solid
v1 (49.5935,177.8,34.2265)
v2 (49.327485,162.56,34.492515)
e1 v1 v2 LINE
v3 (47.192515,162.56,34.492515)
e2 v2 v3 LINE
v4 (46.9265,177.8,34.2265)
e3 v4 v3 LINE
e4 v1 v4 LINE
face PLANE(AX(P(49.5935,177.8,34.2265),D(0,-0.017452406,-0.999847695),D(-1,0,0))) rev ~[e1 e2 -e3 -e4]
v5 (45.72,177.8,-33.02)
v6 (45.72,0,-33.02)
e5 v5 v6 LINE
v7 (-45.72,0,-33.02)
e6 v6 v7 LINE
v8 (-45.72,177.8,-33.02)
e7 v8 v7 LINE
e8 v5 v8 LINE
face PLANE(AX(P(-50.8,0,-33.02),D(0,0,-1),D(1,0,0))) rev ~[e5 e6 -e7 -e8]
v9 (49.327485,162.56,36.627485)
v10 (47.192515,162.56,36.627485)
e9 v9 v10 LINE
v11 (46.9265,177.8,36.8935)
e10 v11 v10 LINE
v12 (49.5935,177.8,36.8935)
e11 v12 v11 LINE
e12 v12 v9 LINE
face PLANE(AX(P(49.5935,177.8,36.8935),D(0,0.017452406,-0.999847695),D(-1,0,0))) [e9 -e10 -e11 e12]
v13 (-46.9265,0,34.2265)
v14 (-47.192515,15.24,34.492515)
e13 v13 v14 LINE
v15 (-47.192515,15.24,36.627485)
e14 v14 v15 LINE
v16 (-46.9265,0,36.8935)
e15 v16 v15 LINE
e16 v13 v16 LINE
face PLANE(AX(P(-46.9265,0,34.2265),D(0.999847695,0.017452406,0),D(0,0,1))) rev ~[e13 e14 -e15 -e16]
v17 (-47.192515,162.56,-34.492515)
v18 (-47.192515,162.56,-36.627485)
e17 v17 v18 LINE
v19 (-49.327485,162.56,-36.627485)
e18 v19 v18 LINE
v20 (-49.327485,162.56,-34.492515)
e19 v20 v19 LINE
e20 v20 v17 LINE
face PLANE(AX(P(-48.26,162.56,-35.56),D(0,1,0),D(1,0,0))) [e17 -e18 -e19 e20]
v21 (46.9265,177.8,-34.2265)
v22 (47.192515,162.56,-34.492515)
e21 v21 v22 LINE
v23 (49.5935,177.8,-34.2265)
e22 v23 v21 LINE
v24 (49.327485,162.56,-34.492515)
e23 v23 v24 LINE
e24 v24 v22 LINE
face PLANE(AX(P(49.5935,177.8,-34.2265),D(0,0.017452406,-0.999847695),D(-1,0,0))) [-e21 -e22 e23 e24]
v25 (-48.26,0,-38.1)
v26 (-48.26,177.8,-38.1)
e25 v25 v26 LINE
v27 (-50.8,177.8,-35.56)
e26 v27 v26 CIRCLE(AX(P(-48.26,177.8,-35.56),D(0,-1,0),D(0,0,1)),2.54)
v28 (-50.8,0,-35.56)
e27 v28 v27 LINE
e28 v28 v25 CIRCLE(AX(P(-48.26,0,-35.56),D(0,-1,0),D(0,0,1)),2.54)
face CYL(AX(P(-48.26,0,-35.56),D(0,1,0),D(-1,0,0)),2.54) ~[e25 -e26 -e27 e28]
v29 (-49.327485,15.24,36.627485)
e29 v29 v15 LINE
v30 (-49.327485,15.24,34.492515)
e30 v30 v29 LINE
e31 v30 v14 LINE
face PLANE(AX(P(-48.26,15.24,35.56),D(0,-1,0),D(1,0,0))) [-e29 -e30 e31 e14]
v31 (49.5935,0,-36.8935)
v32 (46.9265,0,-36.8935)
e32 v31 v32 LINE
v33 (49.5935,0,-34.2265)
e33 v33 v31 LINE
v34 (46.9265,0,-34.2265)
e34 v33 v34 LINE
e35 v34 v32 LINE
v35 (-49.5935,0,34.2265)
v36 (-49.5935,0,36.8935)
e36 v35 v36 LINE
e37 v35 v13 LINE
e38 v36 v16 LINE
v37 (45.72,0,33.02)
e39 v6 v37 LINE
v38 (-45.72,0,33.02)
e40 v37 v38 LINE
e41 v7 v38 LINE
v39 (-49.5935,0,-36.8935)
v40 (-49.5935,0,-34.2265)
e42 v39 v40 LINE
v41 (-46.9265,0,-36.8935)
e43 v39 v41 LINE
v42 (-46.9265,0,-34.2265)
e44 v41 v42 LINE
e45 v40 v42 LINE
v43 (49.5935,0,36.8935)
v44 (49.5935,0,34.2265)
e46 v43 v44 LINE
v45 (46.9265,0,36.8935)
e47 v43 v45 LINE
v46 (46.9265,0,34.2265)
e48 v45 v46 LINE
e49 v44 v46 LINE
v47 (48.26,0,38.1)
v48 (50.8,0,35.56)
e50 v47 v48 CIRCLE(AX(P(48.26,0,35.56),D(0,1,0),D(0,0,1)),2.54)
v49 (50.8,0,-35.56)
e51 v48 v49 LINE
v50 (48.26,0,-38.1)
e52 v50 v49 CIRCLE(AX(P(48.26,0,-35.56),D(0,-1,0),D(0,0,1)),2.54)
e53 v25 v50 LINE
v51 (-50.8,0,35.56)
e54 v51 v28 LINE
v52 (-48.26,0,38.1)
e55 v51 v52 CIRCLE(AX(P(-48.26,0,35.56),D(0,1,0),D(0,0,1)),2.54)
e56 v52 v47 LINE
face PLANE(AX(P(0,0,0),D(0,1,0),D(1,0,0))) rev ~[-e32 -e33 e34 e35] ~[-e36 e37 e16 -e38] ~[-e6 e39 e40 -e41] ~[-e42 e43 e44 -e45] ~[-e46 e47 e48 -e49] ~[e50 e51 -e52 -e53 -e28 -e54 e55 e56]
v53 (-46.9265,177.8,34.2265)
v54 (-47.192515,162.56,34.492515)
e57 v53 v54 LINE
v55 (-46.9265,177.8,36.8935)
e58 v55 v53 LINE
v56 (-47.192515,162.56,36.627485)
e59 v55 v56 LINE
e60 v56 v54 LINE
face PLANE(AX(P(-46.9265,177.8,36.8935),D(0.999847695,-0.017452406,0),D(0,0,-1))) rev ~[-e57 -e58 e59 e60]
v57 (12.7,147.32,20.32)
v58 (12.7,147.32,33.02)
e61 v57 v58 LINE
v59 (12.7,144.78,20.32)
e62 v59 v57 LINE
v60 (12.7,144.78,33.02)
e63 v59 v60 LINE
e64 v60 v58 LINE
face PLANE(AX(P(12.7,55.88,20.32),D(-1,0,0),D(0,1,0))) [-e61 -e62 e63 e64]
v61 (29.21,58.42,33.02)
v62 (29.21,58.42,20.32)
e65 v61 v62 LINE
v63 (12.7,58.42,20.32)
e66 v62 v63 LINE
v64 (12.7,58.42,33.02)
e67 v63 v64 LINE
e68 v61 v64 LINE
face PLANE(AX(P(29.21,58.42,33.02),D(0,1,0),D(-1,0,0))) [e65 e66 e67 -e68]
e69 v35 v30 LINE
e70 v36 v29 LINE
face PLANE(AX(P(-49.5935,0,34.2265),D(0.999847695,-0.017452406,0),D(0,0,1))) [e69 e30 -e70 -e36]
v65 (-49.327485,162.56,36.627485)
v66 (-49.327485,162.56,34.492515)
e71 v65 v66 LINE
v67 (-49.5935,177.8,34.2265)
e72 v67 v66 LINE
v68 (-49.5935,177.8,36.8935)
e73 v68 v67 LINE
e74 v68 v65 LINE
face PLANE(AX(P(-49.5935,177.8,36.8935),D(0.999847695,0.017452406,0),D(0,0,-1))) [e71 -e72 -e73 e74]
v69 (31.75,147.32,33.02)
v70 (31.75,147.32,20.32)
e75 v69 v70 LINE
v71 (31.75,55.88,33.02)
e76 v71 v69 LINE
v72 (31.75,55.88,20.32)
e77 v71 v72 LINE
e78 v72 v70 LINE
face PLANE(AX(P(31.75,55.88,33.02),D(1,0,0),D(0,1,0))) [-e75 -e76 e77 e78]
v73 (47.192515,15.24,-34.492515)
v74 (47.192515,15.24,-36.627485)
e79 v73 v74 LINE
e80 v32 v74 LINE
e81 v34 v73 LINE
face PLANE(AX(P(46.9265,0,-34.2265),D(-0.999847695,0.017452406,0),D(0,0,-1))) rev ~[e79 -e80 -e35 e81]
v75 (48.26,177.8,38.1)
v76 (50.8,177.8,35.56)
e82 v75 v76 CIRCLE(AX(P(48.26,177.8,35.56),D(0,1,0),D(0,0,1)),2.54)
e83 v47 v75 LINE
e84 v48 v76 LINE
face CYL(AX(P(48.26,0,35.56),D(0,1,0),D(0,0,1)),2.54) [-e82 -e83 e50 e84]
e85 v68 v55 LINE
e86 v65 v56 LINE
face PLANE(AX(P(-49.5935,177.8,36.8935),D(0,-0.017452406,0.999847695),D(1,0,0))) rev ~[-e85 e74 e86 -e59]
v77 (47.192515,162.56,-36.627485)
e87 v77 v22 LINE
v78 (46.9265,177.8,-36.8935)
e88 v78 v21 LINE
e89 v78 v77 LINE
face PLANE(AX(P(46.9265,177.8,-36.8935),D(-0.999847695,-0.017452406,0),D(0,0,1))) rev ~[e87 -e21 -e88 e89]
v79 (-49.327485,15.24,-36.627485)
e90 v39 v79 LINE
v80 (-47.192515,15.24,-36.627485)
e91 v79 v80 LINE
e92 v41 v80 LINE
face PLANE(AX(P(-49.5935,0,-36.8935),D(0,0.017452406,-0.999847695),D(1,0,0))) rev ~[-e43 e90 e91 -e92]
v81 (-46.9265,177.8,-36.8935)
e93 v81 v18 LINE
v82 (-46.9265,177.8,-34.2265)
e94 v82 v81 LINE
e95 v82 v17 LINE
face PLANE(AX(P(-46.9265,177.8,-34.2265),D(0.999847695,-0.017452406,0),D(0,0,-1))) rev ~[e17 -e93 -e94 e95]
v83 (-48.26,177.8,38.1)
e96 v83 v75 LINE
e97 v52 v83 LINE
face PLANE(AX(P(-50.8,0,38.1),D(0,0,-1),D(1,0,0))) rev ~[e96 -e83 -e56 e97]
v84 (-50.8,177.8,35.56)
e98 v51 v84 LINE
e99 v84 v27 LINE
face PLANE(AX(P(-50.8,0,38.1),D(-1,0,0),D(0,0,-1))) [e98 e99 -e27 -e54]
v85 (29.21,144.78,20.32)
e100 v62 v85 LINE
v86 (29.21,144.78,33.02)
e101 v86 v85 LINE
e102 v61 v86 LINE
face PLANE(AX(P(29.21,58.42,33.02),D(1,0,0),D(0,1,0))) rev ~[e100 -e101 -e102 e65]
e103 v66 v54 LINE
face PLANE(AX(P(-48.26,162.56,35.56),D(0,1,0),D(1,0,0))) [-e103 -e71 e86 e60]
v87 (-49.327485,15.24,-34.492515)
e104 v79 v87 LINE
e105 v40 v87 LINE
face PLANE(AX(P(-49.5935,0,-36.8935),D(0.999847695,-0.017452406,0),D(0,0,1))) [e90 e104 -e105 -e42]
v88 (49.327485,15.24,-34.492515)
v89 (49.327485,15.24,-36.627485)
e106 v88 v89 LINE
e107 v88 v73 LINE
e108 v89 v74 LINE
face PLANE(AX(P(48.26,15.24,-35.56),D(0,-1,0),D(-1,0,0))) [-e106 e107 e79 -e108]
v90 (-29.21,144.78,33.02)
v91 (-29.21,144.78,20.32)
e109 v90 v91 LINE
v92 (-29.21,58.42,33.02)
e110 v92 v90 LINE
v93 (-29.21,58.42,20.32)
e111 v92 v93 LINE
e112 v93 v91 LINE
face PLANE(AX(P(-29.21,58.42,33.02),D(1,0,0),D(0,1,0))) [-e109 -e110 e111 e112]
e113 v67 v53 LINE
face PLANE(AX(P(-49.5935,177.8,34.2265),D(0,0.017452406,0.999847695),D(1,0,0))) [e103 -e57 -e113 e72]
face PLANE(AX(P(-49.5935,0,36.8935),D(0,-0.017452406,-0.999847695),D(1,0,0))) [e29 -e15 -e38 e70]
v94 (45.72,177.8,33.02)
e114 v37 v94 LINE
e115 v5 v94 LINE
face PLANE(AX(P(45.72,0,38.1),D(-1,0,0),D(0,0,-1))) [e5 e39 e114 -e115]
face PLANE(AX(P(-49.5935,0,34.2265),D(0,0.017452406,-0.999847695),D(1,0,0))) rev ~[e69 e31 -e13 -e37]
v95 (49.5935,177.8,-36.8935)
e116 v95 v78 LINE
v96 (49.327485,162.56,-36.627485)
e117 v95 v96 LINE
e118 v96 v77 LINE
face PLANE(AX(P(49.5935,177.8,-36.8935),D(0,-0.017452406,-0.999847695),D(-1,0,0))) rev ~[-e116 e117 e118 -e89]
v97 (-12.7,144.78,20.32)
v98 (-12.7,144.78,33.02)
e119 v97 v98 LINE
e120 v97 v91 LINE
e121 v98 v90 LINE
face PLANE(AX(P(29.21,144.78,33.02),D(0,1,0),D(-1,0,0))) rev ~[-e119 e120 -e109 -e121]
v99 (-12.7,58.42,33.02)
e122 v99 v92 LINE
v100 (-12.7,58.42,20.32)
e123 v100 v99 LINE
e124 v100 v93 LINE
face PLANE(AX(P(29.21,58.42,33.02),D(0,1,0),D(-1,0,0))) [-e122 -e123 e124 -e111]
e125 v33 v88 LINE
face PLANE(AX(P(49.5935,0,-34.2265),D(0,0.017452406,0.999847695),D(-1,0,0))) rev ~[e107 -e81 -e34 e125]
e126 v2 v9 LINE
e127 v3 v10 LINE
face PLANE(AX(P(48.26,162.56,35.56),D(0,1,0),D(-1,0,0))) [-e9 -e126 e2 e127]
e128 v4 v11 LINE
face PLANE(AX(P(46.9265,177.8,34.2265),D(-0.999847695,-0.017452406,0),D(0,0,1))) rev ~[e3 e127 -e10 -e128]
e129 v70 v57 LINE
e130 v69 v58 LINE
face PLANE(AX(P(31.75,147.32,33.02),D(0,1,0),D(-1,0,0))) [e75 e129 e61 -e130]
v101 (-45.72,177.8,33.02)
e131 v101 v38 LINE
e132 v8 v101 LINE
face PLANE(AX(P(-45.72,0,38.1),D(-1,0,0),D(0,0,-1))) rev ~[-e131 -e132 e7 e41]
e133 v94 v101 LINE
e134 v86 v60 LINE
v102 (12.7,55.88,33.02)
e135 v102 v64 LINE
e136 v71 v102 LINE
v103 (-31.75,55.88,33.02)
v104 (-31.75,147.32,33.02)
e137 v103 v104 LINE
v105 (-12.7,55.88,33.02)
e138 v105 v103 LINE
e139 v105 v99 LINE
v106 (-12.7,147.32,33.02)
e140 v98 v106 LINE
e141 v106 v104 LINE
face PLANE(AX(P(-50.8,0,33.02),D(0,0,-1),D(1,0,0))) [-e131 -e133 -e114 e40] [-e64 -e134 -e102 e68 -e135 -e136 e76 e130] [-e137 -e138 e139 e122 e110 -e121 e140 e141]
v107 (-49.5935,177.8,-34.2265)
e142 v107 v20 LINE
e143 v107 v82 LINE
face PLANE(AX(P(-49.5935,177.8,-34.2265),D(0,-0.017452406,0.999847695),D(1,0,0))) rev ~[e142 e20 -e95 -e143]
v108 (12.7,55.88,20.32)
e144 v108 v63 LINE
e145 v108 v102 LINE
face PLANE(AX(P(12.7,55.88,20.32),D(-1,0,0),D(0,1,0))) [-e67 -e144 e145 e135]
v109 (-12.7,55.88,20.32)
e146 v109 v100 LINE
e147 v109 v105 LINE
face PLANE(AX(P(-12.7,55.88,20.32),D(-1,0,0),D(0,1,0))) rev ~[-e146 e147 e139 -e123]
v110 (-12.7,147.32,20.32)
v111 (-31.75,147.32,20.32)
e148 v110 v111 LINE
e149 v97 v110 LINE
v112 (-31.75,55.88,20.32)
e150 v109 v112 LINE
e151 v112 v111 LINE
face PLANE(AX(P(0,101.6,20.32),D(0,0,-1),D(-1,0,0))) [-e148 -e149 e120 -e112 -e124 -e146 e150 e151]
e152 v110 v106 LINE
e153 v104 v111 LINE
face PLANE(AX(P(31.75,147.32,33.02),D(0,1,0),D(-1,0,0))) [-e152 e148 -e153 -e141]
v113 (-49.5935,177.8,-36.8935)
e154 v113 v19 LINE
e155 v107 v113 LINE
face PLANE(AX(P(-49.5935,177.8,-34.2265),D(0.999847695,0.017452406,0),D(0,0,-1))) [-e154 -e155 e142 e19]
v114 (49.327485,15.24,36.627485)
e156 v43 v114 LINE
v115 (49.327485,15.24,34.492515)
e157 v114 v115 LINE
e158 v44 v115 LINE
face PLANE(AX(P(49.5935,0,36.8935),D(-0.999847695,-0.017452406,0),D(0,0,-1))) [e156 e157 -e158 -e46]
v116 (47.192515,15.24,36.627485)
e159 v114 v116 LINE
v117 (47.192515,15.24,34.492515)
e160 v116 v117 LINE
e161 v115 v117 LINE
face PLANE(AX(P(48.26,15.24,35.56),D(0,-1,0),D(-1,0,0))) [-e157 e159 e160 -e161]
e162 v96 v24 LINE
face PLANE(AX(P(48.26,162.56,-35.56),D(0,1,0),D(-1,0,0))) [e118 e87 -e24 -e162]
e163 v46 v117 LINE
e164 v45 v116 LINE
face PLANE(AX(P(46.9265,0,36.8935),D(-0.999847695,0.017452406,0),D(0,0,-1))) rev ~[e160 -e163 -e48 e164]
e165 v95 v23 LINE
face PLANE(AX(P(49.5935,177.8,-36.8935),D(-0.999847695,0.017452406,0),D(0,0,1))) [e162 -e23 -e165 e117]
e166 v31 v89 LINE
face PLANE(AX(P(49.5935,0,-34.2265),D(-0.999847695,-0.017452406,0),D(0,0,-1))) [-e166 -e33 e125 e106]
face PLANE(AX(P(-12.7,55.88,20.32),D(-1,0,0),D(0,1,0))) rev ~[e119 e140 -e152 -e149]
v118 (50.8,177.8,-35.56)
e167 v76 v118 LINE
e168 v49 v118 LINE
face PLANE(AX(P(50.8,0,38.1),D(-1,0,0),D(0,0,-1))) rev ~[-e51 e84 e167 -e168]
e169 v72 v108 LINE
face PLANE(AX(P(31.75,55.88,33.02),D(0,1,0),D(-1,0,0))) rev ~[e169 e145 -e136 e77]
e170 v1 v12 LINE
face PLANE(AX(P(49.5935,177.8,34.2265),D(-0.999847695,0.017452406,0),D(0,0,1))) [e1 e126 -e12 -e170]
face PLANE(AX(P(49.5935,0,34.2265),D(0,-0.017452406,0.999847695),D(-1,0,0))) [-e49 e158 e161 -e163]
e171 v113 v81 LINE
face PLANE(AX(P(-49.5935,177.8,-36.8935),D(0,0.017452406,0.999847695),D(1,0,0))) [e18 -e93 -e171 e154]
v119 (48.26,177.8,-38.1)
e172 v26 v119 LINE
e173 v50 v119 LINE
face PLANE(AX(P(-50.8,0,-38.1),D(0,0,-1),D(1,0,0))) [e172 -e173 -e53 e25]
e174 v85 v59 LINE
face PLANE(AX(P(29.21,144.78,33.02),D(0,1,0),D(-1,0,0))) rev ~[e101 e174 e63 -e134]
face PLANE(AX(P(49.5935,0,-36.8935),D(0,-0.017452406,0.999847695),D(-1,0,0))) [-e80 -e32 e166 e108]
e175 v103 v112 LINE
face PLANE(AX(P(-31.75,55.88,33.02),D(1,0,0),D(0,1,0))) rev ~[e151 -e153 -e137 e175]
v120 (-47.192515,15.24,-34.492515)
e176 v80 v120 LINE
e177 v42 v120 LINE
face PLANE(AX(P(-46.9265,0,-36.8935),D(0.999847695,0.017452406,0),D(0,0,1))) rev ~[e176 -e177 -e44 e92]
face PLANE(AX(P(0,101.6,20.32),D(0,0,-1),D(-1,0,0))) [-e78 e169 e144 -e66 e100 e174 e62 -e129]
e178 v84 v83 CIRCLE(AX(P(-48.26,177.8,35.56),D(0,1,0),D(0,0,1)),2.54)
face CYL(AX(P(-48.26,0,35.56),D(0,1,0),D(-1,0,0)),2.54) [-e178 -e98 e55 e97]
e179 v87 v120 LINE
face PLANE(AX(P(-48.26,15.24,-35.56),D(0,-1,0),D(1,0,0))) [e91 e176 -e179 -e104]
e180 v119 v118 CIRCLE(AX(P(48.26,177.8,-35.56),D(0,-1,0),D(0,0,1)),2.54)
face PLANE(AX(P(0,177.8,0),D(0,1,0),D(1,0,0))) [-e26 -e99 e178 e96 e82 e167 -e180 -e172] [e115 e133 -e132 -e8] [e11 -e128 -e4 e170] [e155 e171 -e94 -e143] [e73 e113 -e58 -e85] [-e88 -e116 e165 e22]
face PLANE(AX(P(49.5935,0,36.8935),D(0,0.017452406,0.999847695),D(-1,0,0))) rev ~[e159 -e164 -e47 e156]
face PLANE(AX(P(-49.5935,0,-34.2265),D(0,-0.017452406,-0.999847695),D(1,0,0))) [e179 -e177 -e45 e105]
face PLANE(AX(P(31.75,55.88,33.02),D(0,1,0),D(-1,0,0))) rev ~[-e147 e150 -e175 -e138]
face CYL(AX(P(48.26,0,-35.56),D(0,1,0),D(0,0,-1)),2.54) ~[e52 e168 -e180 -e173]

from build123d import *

# Parameters (mm, degrees)
SKETCH1_W               = 101.6
SKETCH1_H               = 76.2
BOSS_EXTRUDE1_DEPTH     = 177.8
SHELL1_T                = -5.08
SKETCH2_W               = 2.667
SKETCH2_H               = 2.667
CUT_EXTRUDE1_DEPTH      = 15.24
CUT_EXTRUDE1_DRAFT      = -1
MIRROR1_COPY_1_SKETCH_W = 2.667
MIRROR1_COPY_1_SKETCH_H = 2.667
MIRROR1_COPY_1_DEPTH    = 15.24
MIRROR1_COPY_1_DRAFT    = -1
MIRROR2_COPY_1_SKETCH_W = 2.667
MIRROR2_COPY_1_SKETCH_H = 2.667
MIRROR2_COPY_1_DEPTH    = 15.24
MIRROR2_COPY_1_DRAFT    = -1
MIRROR2_COPY_2_SKETCH_W = 2.667
MIRROR2_COPY_2_SKETCH_H = 2.667
MIRROR2_COPY_2_DEPTH    = 15.24
MIRROR2_COPY_2_DRAFT    = -1
MIRROR3_COPY_1_SKETCH_W = 2.667
MIRROR3_COPY_1_SKETCH_H = 2.667
MIRROR3_COPY_1_DEPTH    = 15.24
MIRROR3_COPY_1_DRAFT    = -1
MIRROR3_COPY_2_SKETCH_W = 2.667
MIRROR3_COPY_2_SKETCH_H = 2.667
MIRROR3_COPY_2_DEPTH    = 15.24
MIRROR3_COPY_2_DRAFT    = -1
MIRROR3_COPY_3_SKETCH_W = 2.667
MIRROR3_COPY_3_SKETCH_H = 2.667
MIRROR3_COPY_3_DEPTH    = 15.24
MIRROR3_COPY_3_DRAFT    = -1
MIRROR3_COPY_4_SKETCH_W = 2.667
MIRROR3_COPY_4_SKETCH_H = 2.667
MIRROR3_COPY_4_DEPTH    = 15.24
MIRROR3_COPY_4_DRAFT    = -1
SKETCH3_W               = 63.5
SKETCH3_H               = 91.44
SKETCH3_W_2             = 58.42
SKETCH3_H_2             = 86.36
EXTRUDE_THIN1_DEPTH     = 12.7
SKETCH4_W               = 25.4
SKETCH4_H               = 91.44
CUT_EXTRUDE_THIN1_DEPTH = 12.7
FILLET1_R               = 2.54


with BuildPart() as part:
    # Sketch1 → Boss-Extrude1 (new body)
    with BuildSketch(Plane(origin=(0, 0, 0), x_dir=(1, 0, 0), z_dir=(0, 1, 0))):
        Rectangle(SKETCH1_W, SKETCH1_H)
    extrude(amount=BOSS_EXTRUDE1_DEPTH)

    # Shell1
    shell1_openings = [part.faces().sort_by_distance(p)[0] for p in [
        (0, 177.8, 0),
        (0, 0, 0),
    ]]
    offset(amount=SHELL1_T, openings=shell1_openings, kind=Kind.INTERSECTION)


with BuildPart() as cut_extrude1_tool:
    # Sketch2 → Cut-Extrude1 (with draft: the straight prism first)
    with BuildSketch(Plane(origin=(0, 177.8, 0), x_dir=(1, 0, 0), z_dir=(0, 1, 0))):
        with Locations((-48.26, 35.56)):
            Rectangle(SKETCH2_W, SKETCH2_H)
    extrude(amount=-CUT_EXTRUDE1_DEPTH)
    # Cut-Extrude1: the draft: its side faces are tilted about the plane it starts from
    cut_extrude1_sides = [cut_extrude1_tool.faces().sort_by_distance(p)[0] for p in [
        (-49.5935, 170.18, -35.56),
        (-48.26, 170.18, -34.2265),
        (-46.9265, 170.18, -35.56),
        (-48.26, 170.18, -36.8935),
    ]]
    draft(cut_extrude1_sides, Plane(origin=(0, 177.8, 0), x_dir=(1, 0, 0), z_dir=(0, 1, 0)), CUT_EXTRUDE1_DRAFT)


with BuildPart() as part_1:
    add(part.part)

    # Cut-Extrude1: cut by cut_extrude1_tool
    add(cut_extrude1_tool.part, mode=Mode.SUBTRACT)


with BuildPart() as mirror1_copy_1_tool:
    # Mirror1 copy 1 sketch → Mirror1 copy 1 (with draft: the straight prism first)
    with BuildSketch(Plane(origin=(0, 177.8, 0), x_dir=(1, 0, 0), z_dir=(0, 1, 0))):
        with Locations((-48.26, -35.56)):
            Rectangle(MIRROR1_COPY_1_SKETCH_W, MIRROR1_COPY_1_SKETCH_H)
    extrude(amount=-MIRROR1_COPY_1_DEPTH)
    # Mirror1 copy 1: the draft: its side faces are tilted about the plane it starts from
    mirror1_copy_1_sides = [mirror1_copy_1_tool.faces().sort_by_distance(p)[0] for p in [
        (-49.5935, 170.18, 35.56),
        (-48.26, 170.18, 34.2265),
        (-46.9265, 170.18, 35.56),
        (-48.26, 170.18, 36.8935),
    ]]
    draft(mirror1_copy_1_sides, Plane(origin=(0, 177.8, 0), x_dir=(1, 0, 0), z_dir=(0, 1, 0)), MIRROR1_COPY_1_DRAFT)


with BuildPart() as part_2:
    add(part_1.part)

    # Mirror1 copy 1: cut by mirror1_copy_1_tool
    add(mirror1_copy_1_tool.part, mode=Mode.SUBTRACT)


with BuildPart() as mirror2_copy_1_tool:
    # Mirror2 copy 1 sketch → Mirror2 copy 1 (with draft: the straight prism first)
    with BuildSketch(Plane(origin=(0, 177.8, 0), x_dir=(-1, 0, 0), z_dir=(0, 1, 0))):
        with Locations((-48.26, -35.56)):
            Rectangle(MIRROR2_COPY_1_SKETCH_W, MIRROR2_COPY_1_SKETCH_H)
    extrude(amount=-MIRROR2_COPY_1_DEPTH)
    # Mirror2 copy 1: the draft: its side faces are tilted about the plane it starts from
    mirror2_copy_1_sides = [mirror2_copy_1_tool.faces().sort_by_distance(p)[0] for p in [
        (49.5935, 170.18, -35.56),
        (48.26, 170.18, -34.2265),
        (46.9265, 170.18, -35.56),
        (48.26, 170.18, -36.8935),
    ]]
    draft(mirror2_copy_1_sides, Plane(origin=(0, 177.8, 0), x_dir=(-1, 0, 0), z_dir=(0, 1, 0)), MIRROR2_COPY_1_DRAFT)


with BuildPart() as part_3:
    add(part_2.part)

    # Mirror2 copy 1: cut by mirror2_copy_1_tool
    add(mirror2_copy_1_tool.part, mode=Mode.SUBTRACT)


with BuildPart() as mirror2_copy_2_tool:
    # Mirror2 copy 2 sketch → Mirror2 copy 2 (with draft: the straight prism first)
    with BuildSketch(Plane(origin=(0, 177.8, 0), x_dir=(-1, 0, 0), z_dir=(0, 1, 0))):
        with Locations((-48.26, 35.56)):
            Rectangle(MIRROR2_COPY_2_SKETCH_W, MIRROR2_COPY_2_SKETCH_H)
    extrude(amount=-MIRROR2_COPY_2_DEPTH)
    # Mirror2 copy 2: the draft: its side faces are tilted about the plane it starts from
    mirror2_copy_2_sides = [mirror2_copy_2_tool.faces().sort_by_distance(p)[0] for p in [
        (49.5935, 170.18, 35.56),
        (48.26, 170.18, 34.2265),
        (46.9265, 170.18, 35.56),
        (48.26, 170.18, 36.8935),
    ]]
    draft(mirror2_copy_2_sides, Plane(origin=(0, 177.8, 0), x_dir=(-1, 0, 0), z_dir=(0, 1, 0)), MIRROR2_COPY_2_DRAFT)


with BuildPart() as part_4:
    add(part_3.part)

    # Mirror2 copy 2: cut by mirror2_copy_2_tool
    add(mirror2_copy_2_tool.part, mode=Mode.SUBTRACT)


with BuildPart() as mirror3_copy_1_tool:
    # Mirror3 copy 1 sketch → Mirror3 copy 1 (with draft: the straight prism first)
    with BuildSketch(Plane.XZ):
        with Locations((-48.26, -35.56)):
            Rectangle(MIRROR3_COPY_1_SKETCH_W, MIRROR3_COPY_1_SKETCH_H)
    extrude(amount=-MIRROR3_COPY_1_DEPTH)
    # Mirror3 copy 1: the draft: its side faces are tilted about the plane it starts from
    mirror3_copy_1_sides = [mirror3_copy_1_tool.faces().sort_by_distance(p)[0] for p in [
        (-49.5935, 7.62, -35.56),
        (-48.26, 7.62, -34.2265),
        (-46.9265, 7.62, -35.56),
        (-48.26, 7.62, -36.8935),
    ]]
    draft(mirror3_copy_1_sides, Plane.XZ, MIRROR3_COPY_1_DRAFT)


with BuildPart() as part_5:
    add(part_4.part)

    # Mirror3 copy 1: cut by mirror3_copy_1_tool
    add(mirror3_copy_1_tool.part, mode=Mode.SUBTRACT)


with BuildPart() as mirror3_copy_2_tool:
    # Mirror3 copy 2 sketch → Mirror3 copy 2 (with draft: the straight prism first)
    with BuildSketch(Plane.XZ):
        with Locations((-48.26, 35.56)):
            Rectangle(MIRROR3_COPY_2_SKETCH_W, MIRROR3_COPY_2_SKETCH_H)
    extrude(amount=-MIRROR3_COPY_2_DEPTH)
    # Mirror3 copy 2: the draft: its side faces are tilted about the plane it starts from
    mirror3_copy_2_sides = [mirror3_copy_2_tool.faces().sort_by_distance(p)[0] for p in [
        (-49.5935, 7.62, 35.56),
        (-48.26, 7.62, 34.2265),
        (-46.9265, 7.62, 35.56),
        (-48.26, 7.62, 36.8935),
    ]]
    draft(mirror3_copy_2_sides, Plane.XZ, MIRROR3_COPY_2_DRAFT)


with BuildPart() as part_6:
    add(part_5.part)

    # Mirror3 copy 2: cut by mirror3_copy_2_tool
    add(mirror3_copy_2_tool.part, mode=Mode.SUBTRACT)


with BuildPart() as mirror3_copy_3_tool:
    # Mirror3 copy 3 sketch → Mirror3 copy 3 (with draft: the straight prism first)
    with BuildSketch(Plane(origin=(0, 0, 0), x_dir=(-1, 0, 0), z_dir=(0, -1, 0))):
        with Locations((-48.26, 35.56)):
            Rectangle(MIRROR3_COPY_3_SKETCH_W, MIRROR3_COPY_3_SKETCH_H)
    extrude(amount=-MIRROR3_COPY_3_DEPTH)
    # Mirror3 copy 3: the draft: its side faces are tilted about the plane it starts from
    mirror3_copy_3_sides = [mirror3_copy_3_tool.faces().sort_by_distance(p)[0] for p in [
        (49.5935, 7.62, -35.56),
        (48.26, 7.62, -34.2265),
        (46.9265, 7.62, -35.56),
        (48.26, 7.62, -36.8935),
    ]]
    draft(mirror3_copy_3_sides, Plane(origin=(0, 0, 0), x_dir=(-1, 0, 0), z_dir=(0, -1, 0)), MIRROR3_COPY_3_DRAFT)


with BuildPart() as part_7:
    add(part_6.part)

    # Mirror3 copy 3: cut by mirror3_copy_3_tool
    add(mirror3_copy_3_tool.part, mode=Mode.SUBTRACT)


with BuildPart() as mirror3_copy_4_tool:
    # Mirror3 copy 4 sketch → Mirror3 copy 4 (with draft: the straight prism first)
    with BuildSketch(Plane(origin=(0, 0, 0), x_dir=(-1, 0, 0), z_dir=(0, -1, 0))):
        with Locations((-48.26, -35.56)):
            Rectangle(MIRROR3_COPY_4_SKETCH_W, MIRROR3_COPY_4_SKETCH_H)
    extrude(amount=-MIRROR3_COPY_4_DEPTH)
    # Mirror3 copy 4: the draft: its side faces are tilted about the plane it starts from
    mirror3_copy_4_sides = [mirror3_copy_4_tool.faces().sort_by_distance(p)[0] for p in [
        (49.5935, 7.62, 35.56),
        (48.26, 7.62, 34.2265),
        (46.9265, 7.62, 35.56),
        (48.26, 7.62, 36.8935),
    ]]
    draft(mirror3_copy_4_sides, Plane(origin=(0, 0, 0), x_dir=(-1, 0, 0), z_dir=(0, -1, 0)), MIRROR3_COPY_4_DRAFT)


with BuildPart() as part_8:
    add(part_7.part)

    # Mirror3 copy 4: cut by mirror3_copy_4_tool
    add(mirror3_copy_4_tool.part, mode=Mode.SUBTRACT)

    # Sketch3 → Extrude-Thin1 (add)
    with BuildSketch(Plane(origin=(0, 0, 33.02), x_dir=(-1, 0, 0), z_dir=(0, 0, -1))):
        with Locations((0, 101.6)):
            Rectangle(SKETCH3_W, SKETCH3_H)
        with Locations((0, 101.6)):
            Rectangle(SKETCH3_W_2, SKETCH3_H_2, mode=Mode.SUBTRACT)
    extrude(amount=EXTRUDE_THIN1_DEPTH)

    # Sketch4 → Cut-Extrude-Thin1 (cut)
    with BuildSketch(Plane(origin=(0, 0, 20.32), x_dir=(-1, 0, 0), z_dir=(0, 0, -1))):
        with Locations((0, 101.6)):
            Rectangle(SKETCH4_W, SKETCH4_H)
    extrude(amount=-CUT_EXTRUDE_THIN1_DEPTH, mode=Mode.SUBTRACT)

    # Fillet1
    fillet1_edges = [part_8.edges().sort_by_distance(p)[0] for p in [
        (50.8, 88.9, 38.1),
        (-50.8, 88.9, 38.1),
        (-50.8, 88.9, -38.1),
        (50.8, 88.9, -38.1),
    ]]
    fillet(fillet1_edges, radius=FILLET1_R)


solid = part_8.part
